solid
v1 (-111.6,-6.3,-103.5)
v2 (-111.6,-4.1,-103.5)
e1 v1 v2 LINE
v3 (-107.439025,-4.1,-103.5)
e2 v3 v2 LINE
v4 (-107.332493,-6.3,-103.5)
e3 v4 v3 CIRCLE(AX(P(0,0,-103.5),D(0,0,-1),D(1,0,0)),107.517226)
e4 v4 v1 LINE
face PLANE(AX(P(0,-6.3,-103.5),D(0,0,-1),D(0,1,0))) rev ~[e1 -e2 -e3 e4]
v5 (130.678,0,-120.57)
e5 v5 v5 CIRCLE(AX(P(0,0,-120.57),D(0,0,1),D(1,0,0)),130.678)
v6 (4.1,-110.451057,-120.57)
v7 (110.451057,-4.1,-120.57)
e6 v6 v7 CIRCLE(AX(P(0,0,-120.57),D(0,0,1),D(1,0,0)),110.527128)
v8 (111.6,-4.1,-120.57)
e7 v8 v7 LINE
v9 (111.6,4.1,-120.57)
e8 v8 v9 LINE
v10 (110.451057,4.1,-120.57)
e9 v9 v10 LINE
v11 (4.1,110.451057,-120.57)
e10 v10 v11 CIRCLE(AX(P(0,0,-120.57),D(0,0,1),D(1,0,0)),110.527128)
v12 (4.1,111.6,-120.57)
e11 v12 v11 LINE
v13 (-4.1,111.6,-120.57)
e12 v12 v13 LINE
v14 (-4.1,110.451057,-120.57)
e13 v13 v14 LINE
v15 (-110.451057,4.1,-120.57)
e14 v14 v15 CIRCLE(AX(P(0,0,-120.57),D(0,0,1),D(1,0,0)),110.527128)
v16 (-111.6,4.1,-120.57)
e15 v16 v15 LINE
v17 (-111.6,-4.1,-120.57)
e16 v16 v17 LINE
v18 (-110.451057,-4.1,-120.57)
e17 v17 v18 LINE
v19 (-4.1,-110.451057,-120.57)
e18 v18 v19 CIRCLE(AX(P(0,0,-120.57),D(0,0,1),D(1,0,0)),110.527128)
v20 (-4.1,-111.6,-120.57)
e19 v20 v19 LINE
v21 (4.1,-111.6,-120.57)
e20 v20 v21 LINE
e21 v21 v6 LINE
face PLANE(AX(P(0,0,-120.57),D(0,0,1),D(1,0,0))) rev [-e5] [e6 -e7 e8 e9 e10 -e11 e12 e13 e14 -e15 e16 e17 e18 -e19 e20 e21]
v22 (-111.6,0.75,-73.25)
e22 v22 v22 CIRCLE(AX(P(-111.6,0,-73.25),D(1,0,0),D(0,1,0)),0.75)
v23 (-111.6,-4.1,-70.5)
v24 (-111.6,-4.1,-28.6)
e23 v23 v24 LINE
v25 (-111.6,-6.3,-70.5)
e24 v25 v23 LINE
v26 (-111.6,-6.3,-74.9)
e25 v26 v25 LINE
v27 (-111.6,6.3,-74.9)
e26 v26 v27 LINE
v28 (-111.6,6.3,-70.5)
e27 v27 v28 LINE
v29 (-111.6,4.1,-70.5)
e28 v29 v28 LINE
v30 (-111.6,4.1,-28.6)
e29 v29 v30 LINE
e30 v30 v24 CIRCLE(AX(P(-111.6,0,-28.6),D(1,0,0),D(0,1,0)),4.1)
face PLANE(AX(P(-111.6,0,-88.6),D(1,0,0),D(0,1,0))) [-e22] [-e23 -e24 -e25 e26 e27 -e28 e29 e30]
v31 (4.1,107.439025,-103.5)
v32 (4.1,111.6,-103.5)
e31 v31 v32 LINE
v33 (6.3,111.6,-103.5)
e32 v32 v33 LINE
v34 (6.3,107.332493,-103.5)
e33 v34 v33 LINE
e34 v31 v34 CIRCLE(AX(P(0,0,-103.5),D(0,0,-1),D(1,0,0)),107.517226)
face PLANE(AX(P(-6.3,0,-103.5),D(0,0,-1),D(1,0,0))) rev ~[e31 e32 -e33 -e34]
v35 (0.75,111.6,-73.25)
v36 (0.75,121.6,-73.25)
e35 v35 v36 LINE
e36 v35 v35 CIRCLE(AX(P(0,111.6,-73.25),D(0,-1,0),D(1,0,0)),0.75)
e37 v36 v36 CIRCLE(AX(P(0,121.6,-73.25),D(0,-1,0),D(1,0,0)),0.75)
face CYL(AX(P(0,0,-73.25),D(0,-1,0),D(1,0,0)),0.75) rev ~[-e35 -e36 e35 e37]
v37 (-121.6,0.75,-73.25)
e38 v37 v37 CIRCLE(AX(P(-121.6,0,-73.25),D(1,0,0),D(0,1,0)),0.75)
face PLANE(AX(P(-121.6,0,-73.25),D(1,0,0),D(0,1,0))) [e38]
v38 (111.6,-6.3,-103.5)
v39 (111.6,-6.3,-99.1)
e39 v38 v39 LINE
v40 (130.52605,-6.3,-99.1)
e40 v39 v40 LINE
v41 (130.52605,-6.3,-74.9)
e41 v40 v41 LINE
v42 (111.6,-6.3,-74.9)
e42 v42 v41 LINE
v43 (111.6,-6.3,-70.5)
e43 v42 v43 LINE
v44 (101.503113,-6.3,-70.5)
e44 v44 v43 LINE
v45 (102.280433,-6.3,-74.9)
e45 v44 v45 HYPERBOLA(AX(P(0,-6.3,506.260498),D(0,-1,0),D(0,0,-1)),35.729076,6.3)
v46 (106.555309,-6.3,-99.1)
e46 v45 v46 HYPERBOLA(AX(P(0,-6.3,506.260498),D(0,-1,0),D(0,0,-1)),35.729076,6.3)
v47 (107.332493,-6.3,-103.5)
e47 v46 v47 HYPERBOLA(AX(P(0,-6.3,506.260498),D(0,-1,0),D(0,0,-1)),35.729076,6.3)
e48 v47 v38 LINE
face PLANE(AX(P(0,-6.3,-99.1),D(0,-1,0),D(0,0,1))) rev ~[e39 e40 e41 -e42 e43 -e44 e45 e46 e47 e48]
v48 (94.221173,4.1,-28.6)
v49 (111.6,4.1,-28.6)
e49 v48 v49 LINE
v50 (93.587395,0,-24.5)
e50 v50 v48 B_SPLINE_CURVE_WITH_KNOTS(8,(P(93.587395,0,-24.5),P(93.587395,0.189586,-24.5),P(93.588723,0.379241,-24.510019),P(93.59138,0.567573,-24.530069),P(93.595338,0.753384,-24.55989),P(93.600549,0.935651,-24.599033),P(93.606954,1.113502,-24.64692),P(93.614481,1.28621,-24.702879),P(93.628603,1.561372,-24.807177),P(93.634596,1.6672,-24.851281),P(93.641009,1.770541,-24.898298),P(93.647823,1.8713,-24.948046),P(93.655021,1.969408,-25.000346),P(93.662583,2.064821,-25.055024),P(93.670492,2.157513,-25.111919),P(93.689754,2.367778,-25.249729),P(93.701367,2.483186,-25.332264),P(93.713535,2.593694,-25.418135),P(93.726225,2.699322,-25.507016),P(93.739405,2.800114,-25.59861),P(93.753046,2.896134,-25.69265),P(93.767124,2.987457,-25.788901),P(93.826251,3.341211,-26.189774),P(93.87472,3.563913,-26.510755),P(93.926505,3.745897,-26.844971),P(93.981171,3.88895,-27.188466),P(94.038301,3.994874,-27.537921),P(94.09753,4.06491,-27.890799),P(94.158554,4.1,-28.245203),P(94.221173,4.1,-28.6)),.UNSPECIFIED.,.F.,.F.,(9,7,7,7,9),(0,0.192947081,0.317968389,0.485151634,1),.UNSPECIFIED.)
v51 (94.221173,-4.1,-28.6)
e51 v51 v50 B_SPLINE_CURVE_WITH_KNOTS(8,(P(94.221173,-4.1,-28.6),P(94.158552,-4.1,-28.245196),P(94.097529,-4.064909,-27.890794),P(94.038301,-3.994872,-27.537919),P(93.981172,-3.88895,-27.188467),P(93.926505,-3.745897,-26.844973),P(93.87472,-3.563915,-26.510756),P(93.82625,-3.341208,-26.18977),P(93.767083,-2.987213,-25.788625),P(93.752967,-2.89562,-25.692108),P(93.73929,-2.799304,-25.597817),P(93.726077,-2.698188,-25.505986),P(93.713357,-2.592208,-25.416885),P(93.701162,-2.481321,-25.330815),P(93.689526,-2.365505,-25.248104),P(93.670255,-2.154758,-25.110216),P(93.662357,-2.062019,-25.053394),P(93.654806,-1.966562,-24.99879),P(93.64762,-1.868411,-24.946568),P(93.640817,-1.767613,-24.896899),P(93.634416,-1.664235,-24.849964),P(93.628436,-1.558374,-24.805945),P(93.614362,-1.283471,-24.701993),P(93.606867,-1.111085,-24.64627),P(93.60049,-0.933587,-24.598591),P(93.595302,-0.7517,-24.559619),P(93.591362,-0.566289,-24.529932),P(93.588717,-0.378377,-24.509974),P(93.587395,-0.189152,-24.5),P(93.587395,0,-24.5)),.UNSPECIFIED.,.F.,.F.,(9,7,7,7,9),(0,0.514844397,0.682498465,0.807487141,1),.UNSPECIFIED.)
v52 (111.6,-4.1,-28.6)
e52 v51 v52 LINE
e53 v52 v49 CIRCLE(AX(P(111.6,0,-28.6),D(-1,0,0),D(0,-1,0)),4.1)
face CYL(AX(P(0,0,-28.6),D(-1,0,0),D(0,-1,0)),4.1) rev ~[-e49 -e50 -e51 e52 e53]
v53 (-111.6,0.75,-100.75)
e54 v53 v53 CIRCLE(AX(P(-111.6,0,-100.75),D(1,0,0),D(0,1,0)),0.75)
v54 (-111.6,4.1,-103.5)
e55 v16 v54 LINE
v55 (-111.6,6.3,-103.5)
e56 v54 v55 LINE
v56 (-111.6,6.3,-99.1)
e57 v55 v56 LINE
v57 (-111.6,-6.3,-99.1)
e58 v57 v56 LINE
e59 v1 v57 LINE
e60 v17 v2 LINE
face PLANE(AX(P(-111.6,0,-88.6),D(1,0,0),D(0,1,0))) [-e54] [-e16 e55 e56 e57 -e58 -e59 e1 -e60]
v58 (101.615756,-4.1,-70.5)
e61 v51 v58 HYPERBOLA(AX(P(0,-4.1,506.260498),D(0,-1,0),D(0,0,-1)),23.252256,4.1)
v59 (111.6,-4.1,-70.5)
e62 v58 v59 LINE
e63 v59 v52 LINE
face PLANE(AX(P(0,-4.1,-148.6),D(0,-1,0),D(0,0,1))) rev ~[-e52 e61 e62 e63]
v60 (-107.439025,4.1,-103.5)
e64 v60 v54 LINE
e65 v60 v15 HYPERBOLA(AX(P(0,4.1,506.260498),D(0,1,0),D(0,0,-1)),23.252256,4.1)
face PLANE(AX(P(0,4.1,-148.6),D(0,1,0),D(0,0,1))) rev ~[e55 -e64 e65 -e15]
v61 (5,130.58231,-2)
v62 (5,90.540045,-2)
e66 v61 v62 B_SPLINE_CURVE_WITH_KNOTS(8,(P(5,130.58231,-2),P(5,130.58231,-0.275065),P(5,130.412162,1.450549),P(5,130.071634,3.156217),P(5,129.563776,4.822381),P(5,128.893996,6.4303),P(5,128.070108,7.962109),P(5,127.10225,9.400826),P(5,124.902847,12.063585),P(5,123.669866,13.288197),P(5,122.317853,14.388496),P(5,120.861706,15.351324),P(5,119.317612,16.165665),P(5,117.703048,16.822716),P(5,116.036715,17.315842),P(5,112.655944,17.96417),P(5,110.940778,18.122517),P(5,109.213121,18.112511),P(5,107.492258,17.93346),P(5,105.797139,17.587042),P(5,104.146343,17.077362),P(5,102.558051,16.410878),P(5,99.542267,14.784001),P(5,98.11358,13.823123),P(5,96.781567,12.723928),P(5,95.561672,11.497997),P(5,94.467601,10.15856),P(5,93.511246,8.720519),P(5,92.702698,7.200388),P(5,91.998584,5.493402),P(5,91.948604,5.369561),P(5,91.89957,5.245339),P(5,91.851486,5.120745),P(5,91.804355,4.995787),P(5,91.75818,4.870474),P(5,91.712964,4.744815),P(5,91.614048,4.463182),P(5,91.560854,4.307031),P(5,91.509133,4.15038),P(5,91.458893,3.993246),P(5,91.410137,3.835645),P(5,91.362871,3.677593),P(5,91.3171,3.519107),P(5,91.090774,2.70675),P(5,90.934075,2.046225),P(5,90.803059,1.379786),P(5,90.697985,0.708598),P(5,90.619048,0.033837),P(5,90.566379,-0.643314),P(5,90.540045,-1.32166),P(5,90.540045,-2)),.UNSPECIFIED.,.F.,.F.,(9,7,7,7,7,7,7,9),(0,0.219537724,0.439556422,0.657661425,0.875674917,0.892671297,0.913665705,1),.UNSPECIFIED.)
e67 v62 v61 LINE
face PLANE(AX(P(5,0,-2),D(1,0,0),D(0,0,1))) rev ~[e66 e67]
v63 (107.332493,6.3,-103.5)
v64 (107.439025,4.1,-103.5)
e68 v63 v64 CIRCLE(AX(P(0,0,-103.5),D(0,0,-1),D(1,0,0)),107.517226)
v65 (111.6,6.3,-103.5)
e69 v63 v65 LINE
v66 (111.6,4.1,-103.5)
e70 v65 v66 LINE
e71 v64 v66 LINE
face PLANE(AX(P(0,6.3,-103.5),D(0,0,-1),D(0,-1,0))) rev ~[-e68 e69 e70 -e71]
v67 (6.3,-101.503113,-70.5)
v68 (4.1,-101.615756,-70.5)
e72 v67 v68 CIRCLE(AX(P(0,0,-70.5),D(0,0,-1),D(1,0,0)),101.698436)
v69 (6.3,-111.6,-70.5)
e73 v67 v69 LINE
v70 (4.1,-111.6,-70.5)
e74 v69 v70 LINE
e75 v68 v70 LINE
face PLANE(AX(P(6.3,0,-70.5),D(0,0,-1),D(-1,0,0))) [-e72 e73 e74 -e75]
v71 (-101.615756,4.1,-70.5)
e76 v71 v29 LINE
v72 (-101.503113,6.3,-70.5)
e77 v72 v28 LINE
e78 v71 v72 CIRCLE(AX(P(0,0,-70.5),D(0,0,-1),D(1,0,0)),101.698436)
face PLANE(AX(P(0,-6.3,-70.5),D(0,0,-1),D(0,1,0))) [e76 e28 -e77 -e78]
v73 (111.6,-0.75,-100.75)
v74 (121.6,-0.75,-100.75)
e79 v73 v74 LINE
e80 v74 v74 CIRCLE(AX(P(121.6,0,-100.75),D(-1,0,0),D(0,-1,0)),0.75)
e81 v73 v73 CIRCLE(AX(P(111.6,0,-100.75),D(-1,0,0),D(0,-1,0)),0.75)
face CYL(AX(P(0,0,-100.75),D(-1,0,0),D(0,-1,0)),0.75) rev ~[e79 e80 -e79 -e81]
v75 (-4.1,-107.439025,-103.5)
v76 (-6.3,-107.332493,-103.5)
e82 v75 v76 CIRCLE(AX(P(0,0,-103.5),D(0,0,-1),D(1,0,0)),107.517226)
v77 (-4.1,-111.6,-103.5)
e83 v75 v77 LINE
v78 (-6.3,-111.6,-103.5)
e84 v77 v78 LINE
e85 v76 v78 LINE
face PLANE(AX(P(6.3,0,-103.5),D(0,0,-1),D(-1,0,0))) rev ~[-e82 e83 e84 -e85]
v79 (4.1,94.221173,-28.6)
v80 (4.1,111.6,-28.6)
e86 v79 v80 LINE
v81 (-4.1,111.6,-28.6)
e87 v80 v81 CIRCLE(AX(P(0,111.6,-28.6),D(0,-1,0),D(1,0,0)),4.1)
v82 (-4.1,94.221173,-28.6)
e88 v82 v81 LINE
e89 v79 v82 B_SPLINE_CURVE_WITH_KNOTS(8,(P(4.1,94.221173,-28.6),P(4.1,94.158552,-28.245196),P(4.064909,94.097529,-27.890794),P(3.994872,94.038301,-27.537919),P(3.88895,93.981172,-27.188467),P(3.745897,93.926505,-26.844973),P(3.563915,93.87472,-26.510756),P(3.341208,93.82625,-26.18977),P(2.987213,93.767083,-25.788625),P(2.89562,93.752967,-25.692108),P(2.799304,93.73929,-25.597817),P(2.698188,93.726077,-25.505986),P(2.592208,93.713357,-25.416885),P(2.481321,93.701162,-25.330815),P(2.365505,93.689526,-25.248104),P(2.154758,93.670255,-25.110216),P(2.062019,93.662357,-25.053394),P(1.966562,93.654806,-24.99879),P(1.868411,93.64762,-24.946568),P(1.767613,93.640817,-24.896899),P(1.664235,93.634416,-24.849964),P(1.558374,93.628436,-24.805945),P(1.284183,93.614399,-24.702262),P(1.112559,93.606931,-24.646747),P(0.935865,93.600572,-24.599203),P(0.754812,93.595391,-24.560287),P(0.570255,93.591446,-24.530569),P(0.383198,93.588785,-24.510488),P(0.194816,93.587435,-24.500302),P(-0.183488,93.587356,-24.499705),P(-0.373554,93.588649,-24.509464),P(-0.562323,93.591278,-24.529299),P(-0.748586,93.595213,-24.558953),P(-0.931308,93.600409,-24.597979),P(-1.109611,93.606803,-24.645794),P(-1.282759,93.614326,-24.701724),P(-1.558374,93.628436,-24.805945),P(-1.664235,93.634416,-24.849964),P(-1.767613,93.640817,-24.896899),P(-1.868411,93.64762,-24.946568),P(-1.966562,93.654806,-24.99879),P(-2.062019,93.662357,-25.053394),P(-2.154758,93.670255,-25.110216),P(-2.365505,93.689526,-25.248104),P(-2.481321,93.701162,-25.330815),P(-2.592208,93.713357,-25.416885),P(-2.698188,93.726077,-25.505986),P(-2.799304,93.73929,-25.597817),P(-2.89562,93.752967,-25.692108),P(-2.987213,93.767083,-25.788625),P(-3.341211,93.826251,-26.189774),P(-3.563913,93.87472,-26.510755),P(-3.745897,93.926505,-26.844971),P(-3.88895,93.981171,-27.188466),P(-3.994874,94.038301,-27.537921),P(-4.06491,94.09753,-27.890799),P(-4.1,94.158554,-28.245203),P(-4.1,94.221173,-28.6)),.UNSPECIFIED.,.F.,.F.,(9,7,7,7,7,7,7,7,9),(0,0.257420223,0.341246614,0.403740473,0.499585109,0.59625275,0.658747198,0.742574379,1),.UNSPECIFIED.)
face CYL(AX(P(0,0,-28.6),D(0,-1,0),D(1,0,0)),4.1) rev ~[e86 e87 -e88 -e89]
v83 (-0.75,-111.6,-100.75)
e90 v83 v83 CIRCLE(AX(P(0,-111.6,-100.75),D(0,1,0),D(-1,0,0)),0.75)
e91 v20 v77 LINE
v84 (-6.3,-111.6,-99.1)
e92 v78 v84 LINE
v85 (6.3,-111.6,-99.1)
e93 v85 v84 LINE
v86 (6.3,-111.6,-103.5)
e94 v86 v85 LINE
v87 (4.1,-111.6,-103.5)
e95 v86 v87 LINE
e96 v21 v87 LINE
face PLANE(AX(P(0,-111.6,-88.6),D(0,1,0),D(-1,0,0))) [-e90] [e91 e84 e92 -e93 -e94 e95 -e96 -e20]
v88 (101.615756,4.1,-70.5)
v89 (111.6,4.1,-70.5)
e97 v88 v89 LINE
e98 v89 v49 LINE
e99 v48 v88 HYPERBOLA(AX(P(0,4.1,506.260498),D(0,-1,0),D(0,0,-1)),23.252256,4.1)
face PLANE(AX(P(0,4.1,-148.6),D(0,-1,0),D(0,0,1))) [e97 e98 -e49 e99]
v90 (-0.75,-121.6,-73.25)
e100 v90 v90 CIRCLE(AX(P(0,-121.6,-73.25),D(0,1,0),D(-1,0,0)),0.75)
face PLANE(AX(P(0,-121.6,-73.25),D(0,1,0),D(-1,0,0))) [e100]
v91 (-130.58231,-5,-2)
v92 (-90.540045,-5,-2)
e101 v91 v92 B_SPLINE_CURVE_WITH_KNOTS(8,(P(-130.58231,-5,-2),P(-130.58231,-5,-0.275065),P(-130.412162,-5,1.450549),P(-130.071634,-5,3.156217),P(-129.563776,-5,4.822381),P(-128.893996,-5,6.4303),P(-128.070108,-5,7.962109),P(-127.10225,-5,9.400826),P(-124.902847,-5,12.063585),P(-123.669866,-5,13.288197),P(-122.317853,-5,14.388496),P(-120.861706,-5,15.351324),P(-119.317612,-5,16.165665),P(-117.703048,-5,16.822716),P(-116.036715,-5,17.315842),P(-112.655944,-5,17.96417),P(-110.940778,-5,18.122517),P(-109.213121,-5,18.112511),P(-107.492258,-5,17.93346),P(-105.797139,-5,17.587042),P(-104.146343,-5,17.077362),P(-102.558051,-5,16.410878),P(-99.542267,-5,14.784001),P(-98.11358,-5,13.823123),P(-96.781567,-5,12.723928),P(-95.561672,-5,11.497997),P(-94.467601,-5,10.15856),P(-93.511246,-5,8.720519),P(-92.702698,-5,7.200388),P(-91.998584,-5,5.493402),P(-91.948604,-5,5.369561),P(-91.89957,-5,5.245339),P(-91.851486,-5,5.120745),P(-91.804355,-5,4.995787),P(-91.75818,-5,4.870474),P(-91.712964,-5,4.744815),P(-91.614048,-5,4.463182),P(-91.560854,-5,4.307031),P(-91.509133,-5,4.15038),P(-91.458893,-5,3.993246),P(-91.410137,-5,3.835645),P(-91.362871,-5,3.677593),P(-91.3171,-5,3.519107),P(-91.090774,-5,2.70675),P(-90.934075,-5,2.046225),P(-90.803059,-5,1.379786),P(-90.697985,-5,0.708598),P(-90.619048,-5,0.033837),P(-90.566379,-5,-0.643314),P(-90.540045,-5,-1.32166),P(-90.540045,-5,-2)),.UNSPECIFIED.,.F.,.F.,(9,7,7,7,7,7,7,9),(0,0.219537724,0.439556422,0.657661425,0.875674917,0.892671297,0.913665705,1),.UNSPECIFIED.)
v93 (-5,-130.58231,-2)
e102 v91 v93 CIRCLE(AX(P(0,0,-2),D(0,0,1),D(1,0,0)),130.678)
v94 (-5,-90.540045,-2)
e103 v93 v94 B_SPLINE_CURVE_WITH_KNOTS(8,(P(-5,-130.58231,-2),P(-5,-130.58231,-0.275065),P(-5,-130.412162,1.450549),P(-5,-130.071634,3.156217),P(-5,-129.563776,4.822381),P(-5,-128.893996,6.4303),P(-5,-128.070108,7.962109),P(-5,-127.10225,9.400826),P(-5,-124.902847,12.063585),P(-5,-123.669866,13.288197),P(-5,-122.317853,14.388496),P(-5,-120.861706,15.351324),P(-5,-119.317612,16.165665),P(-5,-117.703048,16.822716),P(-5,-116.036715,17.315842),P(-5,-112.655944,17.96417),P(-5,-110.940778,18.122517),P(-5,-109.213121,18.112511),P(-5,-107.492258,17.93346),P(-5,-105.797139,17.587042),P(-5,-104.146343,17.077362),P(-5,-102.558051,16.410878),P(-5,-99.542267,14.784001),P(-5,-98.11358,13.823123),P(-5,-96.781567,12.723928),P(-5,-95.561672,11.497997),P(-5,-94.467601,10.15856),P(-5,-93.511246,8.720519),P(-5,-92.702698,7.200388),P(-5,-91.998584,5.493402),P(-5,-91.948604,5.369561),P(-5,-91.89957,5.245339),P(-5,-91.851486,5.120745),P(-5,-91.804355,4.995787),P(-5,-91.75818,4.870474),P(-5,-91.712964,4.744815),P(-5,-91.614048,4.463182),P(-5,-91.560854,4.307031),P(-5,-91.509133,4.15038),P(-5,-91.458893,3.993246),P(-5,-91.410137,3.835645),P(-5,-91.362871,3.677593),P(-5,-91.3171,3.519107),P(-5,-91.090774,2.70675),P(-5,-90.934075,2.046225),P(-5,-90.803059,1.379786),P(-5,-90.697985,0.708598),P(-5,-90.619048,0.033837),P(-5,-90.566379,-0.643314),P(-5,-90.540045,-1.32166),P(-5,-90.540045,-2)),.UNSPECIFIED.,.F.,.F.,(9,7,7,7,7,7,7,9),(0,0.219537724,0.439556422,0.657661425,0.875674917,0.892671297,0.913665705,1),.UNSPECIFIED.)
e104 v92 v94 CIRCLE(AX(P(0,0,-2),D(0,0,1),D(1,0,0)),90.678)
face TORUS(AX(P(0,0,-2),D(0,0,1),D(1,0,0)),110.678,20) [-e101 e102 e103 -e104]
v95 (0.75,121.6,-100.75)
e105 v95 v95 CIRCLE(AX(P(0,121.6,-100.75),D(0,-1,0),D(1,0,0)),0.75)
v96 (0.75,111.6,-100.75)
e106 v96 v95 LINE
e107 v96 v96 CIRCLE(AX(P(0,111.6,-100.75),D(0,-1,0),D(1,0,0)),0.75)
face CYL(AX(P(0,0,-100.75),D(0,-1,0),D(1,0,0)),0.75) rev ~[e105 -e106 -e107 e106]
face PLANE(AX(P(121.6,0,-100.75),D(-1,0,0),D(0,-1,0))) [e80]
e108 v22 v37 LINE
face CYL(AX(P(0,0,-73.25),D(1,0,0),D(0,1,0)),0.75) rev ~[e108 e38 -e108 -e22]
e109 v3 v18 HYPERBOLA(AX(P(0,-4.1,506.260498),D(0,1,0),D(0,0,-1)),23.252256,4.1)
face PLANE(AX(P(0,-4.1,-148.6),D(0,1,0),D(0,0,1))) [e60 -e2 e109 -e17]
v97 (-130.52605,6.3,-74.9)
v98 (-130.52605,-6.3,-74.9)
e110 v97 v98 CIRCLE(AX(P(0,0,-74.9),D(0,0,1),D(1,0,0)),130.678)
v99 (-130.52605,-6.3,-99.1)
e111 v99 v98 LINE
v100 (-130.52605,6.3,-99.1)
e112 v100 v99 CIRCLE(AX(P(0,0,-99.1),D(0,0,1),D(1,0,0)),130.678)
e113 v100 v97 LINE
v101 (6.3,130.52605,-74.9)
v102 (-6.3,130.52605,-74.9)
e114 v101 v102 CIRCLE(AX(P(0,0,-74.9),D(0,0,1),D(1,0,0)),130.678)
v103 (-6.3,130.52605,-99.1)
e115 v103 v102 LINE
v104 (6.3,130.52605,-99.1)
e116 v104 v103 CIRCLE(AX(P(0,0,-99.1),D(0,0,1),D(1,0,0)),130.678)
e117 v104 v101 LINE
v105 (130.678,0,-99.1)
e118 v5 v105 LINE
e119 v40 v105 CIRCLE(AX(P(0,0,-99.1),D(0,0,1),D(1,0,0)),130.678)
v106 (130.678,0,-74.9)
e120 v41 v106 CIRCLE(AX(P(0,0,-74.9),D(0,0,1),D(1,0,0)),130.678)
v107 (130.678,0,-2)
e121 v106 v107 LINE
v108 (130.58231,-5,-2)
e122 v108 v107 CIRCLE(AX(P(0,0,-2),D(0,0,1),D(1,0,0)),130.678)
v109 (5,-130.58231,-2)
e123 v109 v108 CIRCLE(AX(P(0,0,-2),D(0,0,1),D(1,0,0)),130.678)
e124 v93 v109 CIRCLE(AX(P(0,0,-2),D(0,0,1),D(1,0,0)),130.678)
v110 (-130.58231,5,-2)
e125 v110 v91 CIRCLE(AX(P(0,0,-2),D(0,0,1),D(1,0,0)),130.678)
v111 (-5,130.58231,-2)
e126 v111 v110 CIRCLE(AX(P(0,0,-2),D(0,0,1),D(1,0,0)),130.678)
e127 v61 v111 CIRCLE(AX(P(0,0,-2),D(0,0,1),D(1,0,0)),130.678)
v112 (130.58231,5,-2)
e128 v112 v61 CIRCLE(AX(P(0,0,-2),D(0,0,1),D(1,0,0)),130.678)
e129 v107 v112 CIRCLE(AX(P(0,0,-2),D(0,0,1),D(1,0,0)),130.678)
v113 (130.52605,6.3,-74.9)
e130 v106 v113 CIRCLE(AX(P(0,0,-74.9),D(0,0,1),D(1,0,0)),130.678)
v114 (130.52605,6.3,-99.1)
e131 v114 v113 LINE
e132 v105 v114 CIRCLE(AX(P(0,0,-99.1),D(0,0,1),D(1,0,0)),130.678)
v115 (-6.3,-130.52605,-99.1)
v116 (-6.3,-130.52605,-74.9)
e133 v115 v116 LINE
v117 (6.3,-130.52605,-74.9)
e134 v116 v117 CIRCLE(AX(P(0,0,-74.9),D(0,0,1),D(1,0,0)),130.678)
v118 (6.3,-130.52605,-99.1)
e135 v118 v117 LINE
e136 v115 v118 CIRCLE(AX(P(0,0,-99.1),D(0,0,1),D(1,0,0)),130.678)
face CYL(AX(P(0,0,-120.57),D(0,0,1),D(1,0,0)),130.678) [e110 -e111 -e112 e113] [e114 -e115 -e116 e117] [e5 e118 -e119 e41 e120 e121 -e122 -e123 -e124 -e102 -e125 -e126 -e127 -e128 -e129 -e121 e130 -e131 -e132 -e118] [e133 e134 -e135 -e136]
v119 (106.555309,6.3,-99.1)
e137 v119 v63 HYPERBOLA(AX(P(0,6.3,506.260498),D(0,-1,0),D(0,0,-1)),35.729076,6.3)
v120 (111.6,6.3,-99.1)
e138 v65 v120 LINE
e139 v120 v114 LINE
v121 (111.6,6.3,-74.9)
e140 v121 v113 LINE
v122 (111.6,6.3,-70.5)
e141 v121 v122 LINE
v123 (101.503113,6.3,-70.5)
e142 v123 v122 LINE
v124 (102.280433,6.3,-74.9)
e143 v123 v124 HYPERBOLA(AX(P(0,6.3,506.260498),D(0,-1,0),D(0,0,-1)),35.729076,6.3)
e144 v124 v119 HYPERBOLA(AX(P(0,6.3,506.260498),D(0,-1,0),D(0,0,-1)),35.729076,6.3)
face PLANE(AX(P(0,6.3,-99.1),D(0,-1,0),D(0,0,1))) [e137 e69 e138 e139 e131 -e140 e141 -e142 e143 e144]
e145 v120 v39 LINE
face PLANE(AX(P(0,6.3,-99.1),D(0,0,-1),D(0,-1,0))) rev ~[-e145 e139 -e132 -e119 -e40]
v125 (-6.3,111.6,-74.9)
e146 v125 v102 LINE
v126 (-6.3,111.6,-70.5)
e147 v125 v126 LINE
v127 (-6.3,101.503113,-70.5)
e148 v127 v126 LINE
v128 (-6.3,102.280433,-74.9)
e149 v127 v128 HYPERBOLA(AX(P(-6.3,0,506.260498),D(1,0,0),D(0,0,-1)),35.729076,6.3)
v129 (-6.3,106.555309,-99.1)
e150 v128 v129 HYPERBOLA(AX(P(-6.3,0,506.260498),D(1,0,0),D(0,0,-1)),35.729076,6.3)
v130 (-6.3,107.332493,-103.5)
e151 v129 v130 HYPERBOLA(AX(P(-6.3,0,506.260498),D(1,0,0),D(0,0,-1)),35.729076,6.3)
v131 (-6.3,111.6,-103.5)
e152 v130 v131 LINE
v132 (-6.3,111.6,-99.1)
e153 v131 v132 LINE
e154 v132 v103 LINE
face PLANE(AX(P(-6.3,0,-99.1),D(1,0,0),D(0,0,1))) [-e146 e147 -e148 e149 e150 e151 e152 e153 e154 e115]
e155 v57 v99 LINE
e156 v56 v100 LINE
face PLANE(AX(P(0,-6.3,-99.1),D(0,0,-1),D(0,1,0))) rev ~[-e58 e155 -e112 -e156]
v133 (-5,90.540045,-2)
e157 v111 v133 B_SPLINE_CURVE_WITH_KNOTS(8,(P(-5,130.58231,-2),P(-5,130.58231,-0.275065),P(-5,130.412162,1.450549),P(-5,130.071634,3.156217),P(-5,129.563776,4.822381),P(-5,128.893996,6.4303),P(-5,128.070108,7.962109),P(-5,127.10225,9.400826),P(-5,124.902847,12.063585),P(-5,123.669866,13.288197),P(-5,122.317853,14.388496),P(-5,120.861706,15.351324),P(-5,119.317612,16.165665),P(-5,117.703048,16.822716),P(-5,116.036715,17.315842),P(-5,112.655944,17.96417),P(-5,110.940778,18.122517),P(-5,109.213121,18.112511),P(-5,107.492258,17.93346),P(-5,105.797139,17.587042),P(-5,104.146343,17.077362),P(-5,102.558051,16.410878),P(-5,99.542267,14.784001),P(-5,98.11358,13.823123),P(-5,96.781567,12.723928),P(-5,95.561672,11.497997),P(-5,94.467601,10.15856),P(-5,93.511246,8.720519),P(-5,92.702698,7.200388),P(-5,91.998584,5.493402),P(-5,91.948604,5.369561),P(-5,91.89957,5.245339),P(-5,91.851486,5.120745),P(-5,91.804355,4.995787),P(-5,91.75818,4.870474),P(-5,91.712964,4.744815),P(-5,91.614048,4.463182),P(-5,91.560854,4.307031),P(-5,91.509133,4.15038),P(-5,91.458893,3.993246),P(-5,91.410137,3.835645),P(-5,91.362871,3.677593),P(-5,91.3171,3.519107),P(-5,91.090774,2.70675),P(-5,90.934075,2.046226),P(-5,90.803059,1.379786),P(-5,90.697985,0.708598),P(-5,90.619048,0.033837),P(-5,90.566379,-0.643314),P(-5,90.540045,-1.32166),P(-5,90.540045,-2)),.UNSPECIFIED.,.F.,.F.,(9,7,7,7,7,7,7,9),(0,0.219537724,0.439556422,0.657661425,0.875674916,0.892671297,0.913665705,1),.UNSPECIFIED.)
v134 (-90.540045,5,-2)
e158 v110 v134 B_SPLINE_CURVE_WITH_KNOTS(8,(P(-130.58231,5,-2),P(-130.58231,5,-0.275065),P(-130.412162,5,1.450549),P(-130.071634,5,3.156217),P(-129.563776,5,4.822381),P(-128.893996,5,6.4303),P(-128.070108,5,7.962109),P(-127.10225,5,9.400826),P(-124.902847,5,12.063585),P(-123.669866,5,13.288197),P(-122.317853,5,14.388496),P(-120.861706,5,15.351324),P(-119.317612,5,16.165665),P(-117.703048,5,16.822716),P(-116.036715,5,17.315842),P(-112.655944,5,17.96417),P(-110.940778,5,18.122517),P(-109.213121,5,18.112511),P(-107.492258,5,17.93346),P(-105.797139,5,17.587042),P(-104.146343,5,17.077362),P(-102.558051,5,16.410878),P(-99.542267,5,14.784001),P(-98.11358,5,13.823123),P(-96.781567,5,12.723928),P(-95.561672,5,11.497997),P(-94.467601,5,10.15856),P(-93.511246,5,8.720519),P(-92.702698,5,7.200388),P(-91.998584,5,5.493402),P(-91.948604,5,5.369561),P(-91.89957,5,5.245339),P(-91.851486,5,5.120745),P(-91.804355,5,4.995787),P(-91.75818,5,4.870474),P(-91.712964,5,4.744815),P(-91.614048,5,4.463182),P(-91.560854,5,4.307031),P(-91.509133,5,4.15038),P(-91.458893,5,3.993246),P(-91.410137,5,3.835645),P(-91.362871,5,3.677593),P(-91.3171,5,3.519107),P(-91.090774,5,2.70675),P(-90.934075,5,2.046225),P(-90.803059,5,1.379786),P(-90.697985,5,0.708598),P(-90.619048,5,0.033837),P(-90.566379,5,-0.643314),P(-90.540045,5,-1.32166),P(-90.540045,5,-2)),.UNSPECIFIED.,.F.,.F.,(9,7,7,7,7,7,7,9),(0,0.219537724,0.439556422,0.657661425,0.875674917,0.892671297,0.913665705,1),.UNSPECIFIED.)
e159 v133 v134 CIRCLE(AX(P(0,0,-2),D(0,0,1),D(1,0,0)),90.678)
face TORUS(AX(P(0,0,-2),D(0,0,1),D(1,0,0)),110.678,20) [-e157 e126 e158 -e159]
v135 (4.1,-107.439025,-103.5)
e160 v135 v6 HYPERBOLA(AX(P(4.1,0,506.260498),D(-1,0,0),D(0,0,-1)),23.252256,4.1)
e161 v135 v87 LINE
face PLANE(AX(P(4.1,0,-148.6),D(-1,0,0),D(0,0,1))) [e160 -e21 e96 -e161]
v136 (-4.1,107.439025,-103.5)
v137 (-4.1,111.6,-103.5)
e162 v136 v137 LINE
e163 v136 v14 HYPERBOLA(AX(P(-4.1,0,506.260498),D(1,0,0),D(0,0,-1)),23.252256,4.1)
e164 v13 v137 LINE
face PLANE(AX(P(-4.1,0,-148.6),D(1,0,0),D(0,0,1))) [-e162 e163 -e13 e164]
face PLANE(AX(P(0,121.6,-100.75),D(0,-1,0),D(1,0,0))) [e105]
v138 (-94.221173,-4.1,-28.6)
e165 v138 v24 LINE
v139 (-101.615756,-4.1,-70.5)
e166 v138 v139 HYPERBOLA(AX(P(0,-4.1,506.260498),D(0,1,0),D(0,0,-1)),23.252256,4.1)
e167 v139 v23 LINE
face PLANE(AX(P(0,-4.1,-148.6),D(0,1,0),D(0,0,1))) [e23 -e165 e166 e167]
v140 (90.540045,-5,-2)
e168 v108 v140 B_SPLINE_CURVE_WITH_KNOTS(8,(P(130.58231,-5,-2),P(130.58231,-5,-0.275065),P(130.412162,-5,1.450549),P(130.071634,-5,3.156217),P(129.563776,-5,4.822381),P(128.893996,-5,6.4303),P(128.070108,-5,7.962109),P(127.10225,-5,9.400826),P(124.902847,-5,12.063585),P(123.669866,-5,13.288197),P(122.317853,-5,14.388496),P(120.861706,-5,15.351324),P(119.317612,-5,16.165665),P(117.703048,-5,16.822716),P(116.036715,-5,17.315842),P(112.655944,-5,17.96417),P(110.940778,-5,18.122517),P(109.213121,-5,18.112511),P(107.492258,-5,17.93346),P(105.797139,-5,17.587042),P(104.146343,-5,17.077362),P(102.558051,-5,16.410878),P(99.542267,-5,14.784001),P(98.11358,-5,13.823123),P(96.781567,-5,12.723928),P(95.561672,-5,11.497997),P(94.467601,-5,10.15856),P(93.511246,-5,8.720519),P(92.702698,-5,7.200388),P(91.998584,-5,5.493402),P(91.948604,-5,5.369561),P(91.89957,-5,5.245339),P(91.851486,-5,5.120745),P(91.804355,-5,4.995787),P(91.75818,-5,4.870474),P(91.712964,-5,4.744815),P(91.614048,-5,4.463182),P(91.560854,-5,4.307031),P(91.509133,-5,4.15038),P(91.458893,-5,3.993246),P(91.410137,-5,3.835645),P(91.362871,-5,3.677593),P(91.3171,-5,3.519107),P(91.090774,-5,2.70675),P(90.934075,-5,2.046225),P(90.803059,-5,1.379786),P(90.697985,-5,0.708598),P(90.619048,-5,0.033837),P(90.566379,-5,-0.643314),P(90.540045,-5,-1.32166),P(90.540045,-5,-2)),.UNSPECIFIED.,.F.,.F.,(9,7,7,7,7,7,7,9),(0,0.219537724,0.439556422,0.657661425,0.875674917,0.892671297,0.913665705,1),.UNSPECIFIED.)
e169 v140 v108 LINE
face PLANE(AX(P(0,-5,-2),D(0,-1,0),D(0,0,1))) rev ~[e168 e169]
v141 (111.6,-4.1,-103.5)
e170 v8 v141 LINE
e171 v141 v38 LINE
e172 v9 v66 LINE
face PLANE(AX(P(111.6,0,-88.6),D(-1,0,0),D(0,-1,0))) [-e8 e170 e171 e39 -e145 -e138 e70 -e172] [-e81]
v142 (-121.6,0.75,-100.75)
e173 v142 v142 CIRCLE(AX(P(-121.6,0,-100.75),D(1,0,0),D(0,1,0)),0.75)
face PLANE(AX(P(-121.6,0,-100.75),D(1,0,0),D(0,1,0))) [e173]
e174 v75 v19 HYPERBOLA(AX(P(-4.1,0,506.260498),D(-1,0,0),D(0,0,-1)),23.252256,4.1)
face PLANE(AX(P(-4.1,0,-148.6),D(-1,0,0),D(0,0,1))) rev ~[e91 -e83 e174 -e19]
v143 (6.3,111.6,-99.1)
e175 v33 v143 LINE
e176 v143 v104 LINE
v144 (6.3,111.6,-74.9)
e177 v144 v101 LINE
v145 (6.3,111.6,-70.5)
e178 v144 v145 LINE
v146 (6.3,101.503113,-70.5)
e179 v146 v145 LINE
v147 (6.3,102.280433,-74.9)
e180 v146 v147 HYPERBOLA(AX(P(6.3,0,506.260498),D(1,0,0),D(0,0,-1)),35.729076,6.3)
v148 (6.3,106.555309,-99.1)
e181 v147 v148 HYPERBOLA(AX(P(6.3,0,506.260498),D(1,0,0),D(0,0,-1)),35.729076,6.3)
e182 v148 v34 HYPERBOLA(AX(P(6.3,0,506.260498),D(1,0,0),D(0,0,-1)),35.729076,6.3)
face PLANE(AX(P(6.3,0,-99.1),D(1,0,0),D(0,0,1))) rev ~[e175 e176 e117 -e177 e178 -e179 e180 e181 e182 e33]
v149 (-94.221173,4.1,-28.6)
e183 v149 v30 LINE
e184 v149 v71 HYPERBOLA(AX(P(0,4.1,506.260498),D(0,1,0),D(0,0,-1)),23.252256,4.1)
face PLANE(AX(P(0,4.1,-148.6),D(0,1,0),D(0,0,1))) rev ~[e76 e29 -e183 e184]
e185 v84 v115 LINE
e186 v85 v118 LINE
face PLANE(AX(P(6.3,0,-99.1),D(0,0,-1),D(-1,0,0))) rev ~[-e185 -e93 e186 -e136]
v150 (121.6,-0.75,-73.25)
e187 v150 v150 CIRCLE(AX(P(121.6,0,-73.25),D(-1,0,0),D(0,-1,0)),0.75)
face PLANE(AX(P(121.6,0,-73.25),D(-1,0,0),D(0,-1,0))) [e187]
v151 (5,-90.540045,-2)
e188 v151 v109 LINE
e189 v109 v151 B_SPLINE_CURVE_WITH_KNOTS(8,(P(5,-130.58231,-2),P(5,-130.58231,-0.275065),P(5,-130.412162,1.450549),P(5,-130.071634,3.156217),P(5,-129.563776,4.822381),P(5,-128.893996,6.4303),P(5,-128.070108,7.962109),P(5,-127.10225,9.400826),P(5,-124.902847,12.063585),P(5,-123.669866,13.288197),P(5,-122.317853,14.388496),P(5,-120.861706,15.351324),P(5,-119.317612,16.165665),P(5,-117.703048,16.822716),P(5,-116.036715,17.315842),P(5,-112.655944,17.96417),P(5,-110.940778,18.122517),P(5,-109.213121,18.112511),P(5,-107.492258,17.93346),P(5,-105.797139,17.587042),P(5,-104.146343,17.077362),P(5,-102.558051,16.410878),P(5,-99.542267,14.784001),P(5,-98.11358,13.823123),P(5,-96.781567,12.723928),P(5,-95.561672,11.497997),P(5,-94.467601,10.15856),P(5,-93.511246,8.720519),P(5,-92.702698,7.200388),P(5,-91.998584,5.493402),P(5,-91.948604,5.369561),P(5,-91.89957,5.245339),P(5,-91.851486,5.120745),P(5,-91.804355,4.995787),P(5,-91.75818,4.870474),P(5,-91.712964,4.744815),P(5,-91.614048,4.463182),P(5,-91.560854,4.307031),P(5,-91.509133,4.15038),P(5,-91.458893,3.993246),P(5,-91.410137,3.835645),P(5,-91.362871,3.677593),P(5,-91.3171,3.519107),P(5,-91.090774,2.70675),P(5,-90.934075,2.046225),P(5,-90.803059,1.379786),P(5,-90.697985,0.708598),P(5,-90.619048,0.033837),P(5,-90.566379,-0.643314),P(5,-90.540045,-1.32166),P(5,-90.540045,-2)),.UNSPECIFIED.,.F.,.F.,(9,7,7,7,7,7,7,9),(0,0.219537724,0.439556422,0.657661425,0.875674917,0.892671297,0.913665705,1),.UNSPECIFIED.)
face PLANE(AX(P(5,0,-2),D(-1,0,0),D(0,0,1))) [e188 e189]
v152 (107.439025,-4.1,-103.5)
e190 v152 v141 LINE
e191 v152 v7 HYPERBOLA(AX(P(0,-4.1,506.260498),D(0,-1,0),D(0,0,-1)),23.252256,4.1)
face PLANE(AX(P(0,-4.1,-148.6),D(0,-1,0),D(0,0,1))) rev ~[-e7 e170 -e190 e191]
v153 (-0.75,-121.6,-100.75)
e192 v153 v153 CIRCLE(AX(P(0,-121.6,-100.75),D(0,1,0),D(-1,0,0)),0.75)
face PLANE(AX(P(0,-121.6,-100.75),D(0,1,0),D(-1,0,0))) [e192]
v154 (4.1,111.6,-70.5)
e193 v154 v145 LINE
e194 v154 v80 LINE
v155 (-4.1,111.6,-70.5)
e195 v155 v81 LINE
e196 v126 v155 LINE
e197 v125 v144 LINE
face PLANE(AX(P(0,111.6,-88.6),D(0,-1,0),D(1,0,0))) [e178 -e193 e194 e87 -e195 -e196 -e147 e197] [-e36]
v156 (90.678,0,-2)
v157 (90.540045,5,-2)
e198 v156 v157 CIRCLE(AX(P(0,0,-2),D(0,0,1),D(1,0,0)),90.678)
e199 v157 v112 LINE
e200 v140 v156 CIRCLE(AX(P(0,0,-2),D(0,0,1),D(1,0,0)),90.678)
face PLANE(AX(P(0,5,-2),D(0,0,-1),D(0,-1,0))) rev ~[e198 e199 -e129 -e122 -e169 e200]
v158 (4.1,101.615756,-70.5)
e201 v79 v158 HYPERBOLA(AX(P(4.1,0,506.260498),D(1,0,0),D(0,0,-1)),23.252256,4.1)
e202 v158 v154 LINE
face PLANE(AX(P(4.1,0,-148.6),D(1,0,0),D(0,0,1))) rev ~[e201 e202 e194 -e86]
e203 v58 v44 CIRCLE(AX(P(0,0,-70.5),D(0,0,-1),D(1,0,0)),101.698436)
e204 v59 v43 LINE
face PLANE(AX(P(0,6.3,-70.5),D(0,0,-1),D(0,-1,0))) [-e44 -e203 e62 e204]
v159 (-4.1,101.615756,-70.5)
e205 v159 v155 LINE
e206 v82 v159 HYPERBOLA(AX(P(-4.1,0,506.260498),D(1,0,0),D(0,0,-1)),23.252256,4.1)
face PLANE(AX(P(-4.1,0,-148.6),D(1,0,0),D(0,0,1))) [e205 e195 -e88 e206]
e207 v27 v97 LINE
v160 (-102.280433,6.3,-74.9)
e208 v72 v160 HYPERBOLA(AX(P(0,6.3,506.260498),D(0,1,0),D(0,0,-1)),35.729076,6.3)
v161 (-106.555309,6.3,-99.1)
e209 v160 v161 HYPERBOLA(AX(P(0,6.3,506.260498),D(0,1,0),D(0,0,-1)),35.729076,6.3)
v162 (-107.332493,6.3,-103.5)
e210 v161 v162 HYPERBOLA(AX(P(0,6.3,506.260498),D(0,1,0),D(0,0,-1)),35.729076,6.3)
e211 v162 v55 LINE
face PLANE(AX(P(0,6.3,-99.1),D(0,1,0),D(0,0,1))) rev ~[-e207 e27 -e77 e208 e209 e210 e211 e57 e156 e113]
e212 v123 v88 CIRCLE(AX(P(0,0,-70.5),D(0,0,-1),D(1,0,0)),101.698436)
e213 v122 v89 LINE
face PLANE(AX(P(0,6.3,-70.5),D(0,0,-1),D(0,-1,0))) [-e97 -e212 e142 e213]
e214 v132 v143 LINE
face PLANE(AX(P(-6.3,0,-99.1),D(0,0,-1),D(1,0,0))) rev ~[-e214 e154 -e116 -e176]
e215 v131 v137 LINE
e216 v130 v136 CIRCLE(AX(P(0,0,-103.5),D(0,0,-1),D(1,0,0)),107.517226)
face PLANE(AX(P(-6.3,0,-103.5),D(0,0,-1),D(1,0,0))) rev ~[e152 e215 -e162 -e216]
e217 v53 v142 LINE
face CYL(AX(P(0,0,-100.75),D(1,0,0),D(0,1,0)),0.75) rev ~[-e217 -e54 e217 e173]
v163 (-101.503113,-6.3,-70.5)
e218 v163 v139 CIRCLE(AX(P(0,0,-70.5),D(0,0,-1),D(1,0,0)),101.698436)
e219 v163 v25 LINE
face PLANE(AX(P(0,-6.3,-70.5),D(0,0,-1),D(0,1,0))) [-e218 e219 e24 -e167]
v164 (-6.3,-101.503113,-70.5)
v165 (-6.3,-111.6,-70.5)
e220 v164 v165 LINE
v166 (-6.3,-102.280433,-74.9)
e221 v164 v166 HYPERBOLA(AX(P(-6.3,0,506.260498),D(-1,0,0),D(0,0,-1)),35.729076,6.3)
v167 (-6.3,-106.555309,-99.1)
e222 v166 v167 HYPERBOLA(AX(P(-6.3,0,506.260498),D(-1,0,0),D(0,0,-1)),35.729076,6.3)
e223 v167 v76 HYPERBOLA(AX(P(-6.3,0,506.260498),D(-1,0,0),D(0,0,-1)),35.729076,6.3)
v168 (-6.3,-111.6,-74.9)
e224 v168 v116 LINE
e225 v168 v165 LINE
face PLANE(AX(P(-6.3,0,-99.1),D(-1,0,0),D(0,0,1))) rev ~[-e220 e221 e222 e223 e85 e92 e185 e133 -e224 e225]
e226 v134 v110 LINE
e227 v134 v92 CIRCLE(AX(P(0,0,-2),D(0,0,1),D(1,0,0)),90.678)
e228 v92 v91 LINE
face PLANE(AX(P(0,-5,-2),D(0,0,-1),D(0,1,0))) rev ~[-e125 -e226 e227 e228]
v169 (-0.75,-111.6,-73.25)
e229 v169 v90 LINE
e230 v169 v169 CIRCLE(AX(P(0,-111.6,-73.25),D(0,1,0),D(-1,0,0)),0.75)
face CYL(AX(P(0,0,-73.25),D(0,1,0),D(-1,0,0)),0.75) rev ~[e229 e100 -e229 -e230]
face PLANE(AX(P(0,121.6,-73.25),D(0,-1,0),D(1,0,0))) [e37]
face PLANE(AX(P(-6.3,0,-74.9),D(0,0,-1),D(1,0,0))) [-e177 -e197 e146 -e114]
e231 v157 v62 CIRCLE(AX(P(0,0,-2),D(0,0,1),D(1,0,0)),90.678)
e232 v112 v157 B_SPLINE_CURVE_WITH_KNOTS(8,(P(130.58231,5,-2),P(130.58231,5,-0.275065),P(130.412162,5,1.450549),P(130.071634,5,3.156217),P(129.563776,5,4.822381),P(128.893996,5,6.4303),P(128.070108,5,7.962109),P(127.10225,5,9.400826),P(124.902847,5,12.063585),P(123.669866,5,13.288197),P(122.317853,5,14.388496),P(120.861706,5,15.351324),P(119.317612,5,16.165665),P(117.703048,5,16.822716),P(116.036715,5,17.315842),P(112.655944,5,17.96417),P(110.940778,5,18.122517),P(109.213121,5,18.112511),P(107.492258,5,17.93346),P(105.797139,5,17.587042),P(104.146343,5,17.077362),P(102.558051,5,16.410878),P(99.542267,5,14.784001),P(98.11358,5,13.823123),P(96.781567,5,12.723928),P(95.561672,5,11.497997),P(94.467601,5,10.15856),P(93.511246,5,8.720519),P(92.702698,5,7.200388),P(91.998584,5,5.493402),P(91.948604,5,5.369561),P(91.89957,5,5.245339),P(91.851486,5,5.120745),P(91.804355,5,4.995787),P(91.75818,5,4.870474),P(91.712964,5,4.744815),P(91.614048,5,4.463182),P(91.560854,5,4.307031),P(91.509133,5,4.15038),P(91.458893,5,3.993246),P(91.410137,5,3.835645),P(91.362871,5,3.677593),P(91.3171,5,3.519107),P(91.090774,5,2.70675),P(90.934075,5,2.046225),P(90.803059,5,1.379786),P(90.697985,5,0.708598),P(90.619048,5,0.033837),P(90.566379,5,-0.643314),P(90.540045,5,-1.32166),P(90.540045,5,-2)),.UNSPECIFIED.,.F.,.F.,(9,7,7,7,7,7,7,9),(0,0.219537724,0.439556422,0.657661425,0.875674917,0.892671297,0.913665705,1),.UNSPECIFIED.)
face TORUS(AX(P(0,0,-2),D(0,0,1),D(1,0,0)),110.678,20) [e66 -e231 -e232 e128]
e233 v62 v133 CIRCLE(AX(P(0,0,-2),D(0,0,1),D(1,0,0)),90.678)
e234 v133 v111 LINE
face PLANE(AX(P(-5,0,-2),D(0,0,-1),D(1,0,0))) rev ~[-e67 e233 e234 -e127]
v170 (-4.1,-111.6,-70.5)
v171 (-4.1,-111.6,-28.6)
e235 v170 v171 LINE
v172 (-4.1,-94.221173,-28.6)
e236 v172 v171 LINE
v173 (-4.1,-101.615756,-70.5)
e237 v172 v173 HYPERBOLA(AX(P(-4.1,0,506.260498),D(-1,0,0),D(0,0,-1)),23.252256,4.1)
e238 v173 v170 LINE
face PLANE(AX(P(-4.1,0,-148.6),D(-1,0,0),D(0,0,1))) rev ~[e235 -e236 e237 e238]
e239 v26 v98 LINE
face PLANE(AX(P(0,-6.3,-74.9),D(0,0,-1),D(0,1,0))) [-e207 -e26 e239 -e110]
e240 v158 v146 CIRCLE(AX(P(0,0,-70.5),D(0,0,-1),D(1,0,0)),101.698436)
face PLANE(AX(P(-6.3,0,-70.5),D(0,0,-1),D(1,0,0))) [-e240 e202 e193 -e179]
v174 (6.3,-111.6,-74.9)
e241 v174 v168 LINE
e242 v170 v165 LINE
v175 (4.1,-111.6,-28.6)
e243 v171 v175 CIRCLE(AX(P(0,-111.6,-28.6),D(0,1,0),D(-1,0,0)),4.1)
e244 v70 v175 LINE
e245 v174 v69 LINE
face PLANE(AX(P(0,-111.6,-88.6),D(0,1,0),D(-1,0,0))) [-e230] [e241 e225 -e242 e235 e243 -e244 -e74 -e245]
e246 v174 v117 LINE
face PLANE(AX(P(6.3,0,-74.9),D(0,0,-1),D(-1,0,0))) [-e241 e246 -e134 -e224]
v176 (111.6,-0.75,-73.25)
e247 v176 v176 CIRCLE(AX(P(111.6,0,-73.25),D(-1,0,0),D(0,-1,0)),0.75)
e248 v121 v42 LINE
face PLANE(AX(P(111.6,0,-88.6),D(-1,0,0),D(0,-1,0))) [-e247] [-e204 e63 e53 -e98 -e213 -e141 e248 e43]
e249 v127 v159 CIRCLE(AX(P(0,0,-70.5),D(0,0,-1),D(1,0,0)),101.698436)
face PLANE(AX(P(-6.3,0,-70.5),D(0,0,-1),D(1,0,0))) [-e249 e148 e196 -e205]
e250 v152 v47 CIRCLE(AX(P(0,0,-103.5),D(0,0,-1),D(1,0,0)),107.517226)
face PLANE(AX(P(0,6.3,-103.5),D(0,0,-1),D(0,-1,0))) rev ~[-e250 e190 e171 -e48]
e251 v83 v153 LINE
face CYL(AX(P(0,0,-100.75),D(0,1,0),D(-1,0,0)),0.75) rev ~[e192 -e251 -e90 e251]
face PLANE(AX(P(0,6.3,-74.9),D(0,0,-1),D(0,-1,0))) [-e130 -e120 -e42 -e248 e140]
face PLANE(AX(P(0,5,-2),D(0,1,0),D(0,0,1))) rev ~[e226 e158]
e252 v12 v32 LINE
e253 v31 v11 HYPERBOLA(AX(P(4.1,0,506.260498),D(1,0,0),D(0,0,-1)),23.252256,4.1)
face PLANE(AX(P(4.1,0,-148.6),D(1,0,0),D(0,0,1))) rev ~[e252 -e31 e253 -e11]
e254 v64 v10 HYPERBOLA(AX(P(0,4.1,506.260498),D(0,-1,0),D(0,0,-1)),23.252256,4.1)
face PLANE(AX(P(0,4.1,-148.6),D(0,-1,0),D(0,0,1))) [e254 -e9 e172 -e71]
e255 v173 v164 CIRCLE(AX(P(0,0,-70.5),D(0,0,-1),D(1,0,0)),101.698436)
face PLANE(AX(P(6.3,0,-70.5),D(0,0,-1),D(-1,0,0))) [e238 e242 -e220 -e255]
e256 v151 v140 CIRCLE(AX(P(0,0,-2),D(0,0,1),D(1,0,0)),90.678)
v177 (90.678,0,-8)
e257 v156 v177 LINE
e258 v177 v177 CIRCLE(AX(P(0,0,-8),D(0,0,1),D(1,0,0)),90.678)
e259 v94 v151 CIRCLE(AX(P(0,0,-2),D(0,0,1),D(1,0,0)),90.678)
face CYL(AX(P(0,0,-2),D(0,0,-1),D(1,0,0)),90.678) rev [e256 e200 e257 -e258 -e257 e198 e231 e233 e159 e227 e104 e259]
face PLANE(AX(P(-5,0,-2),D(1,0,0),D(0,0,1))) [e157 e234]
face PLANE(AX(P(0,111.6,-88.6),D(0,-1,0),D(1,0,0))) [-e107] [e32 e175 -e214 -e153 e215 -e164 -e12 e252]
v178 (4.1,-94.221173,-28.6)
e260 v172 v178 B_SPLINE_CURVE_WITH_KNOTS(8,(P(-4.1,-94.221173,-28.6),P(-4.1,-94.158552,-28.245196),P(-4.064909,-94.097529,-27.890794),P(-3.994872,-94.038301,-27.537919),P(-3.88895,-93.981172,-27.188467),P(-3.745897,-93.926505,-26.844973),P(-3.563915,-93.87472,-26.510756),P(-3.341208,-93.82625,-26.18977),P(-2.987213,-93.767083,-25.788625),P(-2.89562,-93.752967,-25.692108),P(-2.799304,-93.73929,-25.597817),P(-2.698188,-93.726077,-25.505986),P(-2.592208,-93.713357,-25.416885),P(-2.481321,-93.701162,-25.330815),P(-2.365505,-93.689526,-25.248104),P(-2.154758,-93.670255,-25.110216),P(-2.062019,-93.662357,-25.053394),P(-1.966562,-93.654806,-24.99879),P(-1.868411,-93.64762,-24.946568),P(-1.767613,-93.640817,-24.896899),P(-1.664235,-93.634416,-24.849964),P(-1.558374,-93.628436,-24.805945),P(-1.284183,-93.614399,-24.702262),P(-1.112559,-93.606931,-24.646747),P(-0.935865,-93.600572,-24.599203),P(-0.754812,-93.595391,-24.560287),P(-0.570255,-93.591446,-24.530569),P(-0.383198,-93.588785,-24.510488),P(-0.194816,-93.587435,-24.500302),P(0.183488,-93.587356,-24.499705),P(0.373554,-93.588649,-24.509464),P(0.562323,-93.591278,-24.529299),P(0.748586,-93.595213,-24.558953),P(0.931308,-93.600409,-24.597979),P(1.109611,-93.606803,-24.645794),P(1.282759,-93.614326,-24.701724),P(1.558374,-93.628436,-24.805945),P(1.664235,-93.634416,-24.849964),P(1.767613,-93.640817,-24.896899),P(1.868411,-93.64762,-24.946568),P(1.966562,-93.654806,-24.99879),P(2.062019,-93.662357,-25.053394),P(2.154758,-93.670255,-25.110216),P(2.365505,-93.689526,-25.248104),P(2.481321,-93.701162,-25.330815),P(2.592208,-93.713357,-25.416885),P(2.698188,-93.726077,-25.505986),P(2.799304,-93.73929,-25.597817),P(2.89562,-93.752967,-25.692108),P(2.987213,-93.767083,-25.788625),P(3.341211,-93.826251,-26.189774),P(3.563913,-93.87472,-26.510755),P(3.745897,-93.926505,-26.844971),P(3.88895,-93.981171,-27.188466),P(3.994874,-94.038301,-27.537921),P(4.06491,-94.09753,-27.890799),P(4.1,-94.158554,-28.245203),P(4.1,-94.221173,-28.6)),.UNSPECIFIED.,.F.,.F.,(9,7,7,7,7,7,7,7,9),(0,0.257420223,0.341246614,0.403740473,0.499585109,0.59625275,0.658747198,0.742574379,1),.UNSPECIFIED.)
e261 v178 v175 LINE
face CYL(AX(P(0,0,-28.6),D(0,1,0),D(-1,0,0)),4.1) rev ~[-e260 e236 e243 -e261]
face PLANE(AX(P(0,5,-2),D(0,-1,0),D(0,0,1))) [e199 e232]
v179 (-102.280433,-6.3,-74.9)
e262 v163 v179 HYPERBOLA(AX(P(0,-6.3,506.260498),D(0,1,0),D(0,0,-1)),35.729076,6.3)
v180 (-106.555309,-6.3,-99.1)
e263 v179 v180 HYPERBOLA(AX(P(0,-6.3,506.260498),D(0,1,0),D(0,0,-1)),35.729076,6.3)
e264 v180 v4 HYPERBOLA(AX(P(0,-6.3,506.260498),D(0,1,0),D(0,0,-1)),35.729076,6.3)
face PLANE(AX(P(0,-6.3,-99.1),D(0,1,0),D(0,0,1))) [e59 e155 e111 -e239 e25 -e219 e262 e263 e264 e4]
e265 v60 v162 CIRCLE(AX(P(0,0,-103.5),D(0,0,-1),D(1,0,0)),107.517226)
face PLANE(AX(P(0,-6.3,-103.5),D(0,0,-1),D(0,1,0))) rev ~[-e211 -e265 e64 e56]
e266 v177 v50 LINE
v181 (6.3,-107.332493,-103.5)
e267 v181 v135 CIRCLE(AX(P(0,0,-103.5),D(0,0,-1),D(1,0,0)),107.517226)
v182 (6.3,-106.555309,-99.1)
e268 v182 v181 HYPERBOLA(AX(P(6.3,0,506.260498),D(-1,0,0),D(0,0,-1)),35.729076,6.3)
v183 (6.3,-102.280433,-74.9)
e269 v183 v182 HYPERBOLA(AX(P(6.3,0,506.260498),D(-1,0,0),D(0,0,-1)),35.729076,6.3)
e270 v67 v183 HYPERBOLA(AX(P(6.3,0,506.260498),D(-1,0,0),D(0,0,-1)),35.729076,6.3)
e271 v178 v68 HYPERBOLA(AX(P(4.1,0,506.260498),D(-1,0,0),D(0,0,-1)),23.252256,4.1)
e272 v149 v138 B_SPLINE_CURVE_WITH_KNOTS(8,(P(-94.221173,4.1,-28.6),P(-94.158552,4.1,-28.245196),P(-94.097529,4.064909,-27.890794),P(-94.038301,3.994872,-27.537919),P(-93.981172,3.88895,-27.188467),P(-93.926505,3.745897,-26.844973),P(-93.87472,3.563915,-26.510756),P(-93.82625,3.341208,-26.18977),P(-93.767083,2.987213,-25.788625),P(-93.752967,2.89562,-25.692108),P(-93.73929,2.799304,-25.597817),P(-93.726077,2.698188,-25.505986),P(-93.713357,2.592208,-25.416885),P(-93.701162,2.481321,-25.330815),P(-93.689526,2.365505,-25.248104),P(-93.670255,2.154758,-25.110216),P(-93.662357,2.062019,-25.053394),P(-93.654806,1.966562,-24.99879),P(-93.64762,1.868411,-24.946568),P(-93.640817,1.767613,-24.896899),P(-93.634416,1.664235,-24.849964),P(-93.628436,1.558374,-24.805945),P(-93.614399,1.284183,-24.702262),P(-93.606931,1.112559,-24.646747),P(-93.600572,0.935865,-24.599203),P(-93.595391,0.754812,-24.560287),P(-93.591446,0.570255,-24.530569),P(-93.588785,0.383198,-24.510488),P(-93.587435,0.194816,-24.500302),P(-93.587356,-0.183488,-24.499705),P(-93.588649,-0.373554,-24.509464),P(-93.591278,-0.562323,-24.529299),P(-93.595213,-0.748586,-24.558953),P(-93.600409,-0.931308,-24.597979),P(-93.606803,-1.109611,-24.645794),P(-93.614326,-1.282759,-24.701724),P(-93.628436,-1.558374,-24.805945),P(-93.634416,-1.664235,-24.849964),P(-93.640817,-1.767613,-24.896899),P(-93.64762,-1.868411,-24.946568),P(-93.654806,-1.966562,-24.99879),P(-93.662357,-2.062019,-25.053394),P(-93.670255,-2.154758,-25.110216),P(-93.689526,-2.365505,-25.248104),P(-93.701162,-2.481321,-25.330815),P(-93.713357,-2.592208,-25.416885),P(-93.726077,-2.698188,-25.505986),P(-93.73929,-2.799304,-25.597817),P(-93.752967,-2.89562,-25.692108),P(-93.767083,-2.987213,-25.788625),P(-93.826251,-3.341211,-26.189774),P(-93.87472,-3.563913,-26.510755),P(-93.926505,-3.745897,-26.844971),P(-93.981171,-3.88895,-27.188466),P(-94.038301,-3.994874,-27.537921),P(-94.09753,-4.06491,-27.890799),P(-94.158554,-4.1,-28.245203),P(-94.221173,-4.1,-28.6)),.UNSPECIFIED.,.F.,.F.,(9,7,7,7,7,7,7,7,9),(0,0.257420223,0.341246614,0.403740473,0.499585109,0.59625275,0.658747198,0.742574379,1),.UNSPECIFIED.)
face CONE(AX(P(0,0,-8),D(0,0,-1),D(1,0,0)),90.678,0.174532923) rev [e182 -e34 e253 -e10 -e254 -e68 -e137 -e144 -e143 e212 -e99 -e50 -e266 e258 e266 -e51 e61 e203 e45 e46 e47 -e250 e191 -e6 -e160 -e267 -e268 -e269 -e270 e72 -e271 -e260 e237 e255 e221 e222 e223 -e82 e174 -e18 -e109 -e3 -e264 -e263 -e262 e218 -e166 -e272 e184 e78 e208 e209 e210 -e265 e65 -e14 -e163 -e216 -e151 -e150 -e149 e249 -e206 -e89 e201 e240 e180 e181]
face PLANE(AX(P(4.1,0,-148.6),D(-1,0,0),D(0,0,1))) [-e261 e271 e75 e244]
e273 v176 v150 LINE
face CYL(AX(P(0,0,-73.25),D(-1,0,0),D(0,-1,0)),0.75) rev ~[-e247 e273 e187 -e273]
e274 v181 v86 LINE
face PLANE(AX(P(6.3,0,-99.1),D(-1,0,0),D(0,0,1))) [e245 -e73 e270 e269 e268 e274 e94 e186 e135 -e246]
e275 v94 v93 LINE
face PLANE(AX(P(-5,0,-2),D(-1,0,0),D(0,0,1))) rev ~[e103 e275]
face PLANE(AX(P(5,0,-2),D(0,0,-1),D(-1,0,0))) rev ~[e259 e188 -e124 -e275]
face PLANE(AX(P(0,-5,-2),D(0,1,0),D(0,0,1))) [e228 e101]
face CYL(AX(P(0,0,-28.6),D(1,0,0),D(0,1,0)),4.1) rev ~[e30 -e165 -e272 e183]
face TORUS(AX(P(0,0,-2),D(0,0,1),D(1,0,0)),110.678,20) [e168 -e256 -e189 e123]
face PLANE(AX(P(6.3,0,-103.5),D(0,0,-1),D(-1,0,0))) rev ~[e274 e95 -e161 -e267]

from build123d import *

# Parameters (mm, degrees)
POCKET001_DEPTH       = 111.6
POLARPATTERN001_COUNT = 4
SKETCH018_W           = 12.6
SKETCH018_H           = 33
POCKET002_DEPTH       = 111.6
POLARPATTERN002_COUNT = 4
SKETCH019_W           = 12.6
SKETCH019_H           = 24.2
POCKET003_DEPTH       = 920.1486
POLARPATTERN003_COUNT = 4
SKETCH020_R           = 0.75
POCKET004_DEPTH       = 121.6
POLARPATTERN004_COUNT = 4
SKETCH021_W           = 10
SKETCH021_H           = 30
POCKET005_DEPTH       = 920.1486
POLARPATTERN005_COUNT = 4


with BuildPart() as part:
    # Sketch → Revolution (revolve)
    with BuildSketch(Plane.XZ):
        with BuildLine():
            Line((110.527128, -120.57), (130.678, -120.57))
            Line((130.678, -120.57), (130.678, -2))
            ThreePointArc((130.678, -2), (110.678, 18), (90.678, -2))
            Line((90.678, -2), (90.678, -8))
            Line((90.678, -8), (110.527128, -120.57))
        make_face()
    revolve(axis=Axis((0, 0, 0), (0, 0, 1)))

    # Sketch017 → Pocket001 (cut)
    with BuildSketch(Plane.YZ):
        with BuildLine():
            ThreePointArc((-4.1, -148.6), (0, -152.7), (4.1, -148.6))
            Line((4.1, -148.6), (4.1, -28.6))
            ThreePointArc((4.1, -28.6), (0, -24.5), (-4.1, -28.6))
            Line((-4.1, -148.6), (-4.1, -28.6))
        make_face()
    pocket001 = extrude(amount=-POCKET001_DEPTH, mode=Mode.SUBTRACT)

    # PolarPattern001: Pocket001 ×4 about axis
    polarpattern001_axis = Axis((0, 0, 0), (0, 0, 1))
    for i in range(1, POLARPATTERN001_COUNT):
        add(pocket001.rotate(polarpattern001_axis, i * 360 / POLARPATTERN001_COUNT), mode=Mode.SUBTRACT)

    # Sketch018 → Pocket002 (cut)
    with BuildSketch(Plane.YZ):
        with Locations((0, -87)):
            Rectangle(SKETCH018_W, SKETCH018_H)
    pocket002 = extrude(amount=-POCKET002_DEPTH, mode=Mode.SUBTRACT)

    # PolarPattern002: Pocket002 ×4 about axis
    polarpattern002_axis = Axis((0, 0, 0), (0, 0, 1))
    for i in range(1, POLARPATTERN002_COUNT):
        add(pocket002.rotate(polarpattern002_axis, i * 360 / POLARPATTERN002_COUNT), mode=Mode.SUBTRACT)

    # Sketch019 → Pocket003 (cut, through all)
    with BuildSketch(Plane.YZ):
        with Locations((0, -87)):
            Rectangle(SKETCH019_W, SKETCH019_H)
    pocket003 = extrude(amount=-POCKET003_DEPTH, mode=Mode.SUBTRACT)

    # PolarPattern003: Pocket003 ×4 about axis
    polarpattern003_axis = Axis((0, 0, 0), (0, 0, 1))
    for i in range(1, POLARPATTERN003_COUNT):
        add(pocket003.rotate(polarpattern003_axis, i * 360 / POLARPATTERN003_COUNT), mode=Mode.SUBTRACT)

    # Sketch020 → Pocket004 (cut)
    with BuildSketch(Plane.YZ):
        with Locations((0, -73.25)):
            Circle(SKETCH020_R)
        with Locations((0, -100.75)):
            Circle(SKETCH020_R)
    pocket004 = extrude(amount=-POCKET004_DEPTH, mode=Mode.SUBTRACT)

    # PolarPattern004: Pocket004 ×4 about axis
    polarpattern004_axis = Axis((0, 0, 0), (0, 0, 1))
    for i in range(1, POLARPATTERN004_COUNT):
        add(pocket004.rotate(polarpattern004_axis, i * 360 / POLARPATTERN004_COUNT), mode=Mode.SUBTRACT)

    # Sketch021 → Pocket005 (cut, through all)
    with BuildSketch(Plane.YZ):
        with Locations((0, 13)):
            Rectangle(SKETCH021_W, SKETCH021_H)
    pocket005 = extrude(amount=-POCKET005_DEPTH, mode=Mode.SUBTRACT)

    # PolarPattern005: Pocket005 ×4 about axis
    polarpattern005_axis = Axis((0, 0, 0), (0, 0, 1))
    for i in range(1, POLARPATTERN005_COUNT):
        add(pocket005.rotate(polarpattern005_axis, i * 360 / POLARPATTERN005_COUNT), mode=Mode.SUBTRACT)


solid = part.part
